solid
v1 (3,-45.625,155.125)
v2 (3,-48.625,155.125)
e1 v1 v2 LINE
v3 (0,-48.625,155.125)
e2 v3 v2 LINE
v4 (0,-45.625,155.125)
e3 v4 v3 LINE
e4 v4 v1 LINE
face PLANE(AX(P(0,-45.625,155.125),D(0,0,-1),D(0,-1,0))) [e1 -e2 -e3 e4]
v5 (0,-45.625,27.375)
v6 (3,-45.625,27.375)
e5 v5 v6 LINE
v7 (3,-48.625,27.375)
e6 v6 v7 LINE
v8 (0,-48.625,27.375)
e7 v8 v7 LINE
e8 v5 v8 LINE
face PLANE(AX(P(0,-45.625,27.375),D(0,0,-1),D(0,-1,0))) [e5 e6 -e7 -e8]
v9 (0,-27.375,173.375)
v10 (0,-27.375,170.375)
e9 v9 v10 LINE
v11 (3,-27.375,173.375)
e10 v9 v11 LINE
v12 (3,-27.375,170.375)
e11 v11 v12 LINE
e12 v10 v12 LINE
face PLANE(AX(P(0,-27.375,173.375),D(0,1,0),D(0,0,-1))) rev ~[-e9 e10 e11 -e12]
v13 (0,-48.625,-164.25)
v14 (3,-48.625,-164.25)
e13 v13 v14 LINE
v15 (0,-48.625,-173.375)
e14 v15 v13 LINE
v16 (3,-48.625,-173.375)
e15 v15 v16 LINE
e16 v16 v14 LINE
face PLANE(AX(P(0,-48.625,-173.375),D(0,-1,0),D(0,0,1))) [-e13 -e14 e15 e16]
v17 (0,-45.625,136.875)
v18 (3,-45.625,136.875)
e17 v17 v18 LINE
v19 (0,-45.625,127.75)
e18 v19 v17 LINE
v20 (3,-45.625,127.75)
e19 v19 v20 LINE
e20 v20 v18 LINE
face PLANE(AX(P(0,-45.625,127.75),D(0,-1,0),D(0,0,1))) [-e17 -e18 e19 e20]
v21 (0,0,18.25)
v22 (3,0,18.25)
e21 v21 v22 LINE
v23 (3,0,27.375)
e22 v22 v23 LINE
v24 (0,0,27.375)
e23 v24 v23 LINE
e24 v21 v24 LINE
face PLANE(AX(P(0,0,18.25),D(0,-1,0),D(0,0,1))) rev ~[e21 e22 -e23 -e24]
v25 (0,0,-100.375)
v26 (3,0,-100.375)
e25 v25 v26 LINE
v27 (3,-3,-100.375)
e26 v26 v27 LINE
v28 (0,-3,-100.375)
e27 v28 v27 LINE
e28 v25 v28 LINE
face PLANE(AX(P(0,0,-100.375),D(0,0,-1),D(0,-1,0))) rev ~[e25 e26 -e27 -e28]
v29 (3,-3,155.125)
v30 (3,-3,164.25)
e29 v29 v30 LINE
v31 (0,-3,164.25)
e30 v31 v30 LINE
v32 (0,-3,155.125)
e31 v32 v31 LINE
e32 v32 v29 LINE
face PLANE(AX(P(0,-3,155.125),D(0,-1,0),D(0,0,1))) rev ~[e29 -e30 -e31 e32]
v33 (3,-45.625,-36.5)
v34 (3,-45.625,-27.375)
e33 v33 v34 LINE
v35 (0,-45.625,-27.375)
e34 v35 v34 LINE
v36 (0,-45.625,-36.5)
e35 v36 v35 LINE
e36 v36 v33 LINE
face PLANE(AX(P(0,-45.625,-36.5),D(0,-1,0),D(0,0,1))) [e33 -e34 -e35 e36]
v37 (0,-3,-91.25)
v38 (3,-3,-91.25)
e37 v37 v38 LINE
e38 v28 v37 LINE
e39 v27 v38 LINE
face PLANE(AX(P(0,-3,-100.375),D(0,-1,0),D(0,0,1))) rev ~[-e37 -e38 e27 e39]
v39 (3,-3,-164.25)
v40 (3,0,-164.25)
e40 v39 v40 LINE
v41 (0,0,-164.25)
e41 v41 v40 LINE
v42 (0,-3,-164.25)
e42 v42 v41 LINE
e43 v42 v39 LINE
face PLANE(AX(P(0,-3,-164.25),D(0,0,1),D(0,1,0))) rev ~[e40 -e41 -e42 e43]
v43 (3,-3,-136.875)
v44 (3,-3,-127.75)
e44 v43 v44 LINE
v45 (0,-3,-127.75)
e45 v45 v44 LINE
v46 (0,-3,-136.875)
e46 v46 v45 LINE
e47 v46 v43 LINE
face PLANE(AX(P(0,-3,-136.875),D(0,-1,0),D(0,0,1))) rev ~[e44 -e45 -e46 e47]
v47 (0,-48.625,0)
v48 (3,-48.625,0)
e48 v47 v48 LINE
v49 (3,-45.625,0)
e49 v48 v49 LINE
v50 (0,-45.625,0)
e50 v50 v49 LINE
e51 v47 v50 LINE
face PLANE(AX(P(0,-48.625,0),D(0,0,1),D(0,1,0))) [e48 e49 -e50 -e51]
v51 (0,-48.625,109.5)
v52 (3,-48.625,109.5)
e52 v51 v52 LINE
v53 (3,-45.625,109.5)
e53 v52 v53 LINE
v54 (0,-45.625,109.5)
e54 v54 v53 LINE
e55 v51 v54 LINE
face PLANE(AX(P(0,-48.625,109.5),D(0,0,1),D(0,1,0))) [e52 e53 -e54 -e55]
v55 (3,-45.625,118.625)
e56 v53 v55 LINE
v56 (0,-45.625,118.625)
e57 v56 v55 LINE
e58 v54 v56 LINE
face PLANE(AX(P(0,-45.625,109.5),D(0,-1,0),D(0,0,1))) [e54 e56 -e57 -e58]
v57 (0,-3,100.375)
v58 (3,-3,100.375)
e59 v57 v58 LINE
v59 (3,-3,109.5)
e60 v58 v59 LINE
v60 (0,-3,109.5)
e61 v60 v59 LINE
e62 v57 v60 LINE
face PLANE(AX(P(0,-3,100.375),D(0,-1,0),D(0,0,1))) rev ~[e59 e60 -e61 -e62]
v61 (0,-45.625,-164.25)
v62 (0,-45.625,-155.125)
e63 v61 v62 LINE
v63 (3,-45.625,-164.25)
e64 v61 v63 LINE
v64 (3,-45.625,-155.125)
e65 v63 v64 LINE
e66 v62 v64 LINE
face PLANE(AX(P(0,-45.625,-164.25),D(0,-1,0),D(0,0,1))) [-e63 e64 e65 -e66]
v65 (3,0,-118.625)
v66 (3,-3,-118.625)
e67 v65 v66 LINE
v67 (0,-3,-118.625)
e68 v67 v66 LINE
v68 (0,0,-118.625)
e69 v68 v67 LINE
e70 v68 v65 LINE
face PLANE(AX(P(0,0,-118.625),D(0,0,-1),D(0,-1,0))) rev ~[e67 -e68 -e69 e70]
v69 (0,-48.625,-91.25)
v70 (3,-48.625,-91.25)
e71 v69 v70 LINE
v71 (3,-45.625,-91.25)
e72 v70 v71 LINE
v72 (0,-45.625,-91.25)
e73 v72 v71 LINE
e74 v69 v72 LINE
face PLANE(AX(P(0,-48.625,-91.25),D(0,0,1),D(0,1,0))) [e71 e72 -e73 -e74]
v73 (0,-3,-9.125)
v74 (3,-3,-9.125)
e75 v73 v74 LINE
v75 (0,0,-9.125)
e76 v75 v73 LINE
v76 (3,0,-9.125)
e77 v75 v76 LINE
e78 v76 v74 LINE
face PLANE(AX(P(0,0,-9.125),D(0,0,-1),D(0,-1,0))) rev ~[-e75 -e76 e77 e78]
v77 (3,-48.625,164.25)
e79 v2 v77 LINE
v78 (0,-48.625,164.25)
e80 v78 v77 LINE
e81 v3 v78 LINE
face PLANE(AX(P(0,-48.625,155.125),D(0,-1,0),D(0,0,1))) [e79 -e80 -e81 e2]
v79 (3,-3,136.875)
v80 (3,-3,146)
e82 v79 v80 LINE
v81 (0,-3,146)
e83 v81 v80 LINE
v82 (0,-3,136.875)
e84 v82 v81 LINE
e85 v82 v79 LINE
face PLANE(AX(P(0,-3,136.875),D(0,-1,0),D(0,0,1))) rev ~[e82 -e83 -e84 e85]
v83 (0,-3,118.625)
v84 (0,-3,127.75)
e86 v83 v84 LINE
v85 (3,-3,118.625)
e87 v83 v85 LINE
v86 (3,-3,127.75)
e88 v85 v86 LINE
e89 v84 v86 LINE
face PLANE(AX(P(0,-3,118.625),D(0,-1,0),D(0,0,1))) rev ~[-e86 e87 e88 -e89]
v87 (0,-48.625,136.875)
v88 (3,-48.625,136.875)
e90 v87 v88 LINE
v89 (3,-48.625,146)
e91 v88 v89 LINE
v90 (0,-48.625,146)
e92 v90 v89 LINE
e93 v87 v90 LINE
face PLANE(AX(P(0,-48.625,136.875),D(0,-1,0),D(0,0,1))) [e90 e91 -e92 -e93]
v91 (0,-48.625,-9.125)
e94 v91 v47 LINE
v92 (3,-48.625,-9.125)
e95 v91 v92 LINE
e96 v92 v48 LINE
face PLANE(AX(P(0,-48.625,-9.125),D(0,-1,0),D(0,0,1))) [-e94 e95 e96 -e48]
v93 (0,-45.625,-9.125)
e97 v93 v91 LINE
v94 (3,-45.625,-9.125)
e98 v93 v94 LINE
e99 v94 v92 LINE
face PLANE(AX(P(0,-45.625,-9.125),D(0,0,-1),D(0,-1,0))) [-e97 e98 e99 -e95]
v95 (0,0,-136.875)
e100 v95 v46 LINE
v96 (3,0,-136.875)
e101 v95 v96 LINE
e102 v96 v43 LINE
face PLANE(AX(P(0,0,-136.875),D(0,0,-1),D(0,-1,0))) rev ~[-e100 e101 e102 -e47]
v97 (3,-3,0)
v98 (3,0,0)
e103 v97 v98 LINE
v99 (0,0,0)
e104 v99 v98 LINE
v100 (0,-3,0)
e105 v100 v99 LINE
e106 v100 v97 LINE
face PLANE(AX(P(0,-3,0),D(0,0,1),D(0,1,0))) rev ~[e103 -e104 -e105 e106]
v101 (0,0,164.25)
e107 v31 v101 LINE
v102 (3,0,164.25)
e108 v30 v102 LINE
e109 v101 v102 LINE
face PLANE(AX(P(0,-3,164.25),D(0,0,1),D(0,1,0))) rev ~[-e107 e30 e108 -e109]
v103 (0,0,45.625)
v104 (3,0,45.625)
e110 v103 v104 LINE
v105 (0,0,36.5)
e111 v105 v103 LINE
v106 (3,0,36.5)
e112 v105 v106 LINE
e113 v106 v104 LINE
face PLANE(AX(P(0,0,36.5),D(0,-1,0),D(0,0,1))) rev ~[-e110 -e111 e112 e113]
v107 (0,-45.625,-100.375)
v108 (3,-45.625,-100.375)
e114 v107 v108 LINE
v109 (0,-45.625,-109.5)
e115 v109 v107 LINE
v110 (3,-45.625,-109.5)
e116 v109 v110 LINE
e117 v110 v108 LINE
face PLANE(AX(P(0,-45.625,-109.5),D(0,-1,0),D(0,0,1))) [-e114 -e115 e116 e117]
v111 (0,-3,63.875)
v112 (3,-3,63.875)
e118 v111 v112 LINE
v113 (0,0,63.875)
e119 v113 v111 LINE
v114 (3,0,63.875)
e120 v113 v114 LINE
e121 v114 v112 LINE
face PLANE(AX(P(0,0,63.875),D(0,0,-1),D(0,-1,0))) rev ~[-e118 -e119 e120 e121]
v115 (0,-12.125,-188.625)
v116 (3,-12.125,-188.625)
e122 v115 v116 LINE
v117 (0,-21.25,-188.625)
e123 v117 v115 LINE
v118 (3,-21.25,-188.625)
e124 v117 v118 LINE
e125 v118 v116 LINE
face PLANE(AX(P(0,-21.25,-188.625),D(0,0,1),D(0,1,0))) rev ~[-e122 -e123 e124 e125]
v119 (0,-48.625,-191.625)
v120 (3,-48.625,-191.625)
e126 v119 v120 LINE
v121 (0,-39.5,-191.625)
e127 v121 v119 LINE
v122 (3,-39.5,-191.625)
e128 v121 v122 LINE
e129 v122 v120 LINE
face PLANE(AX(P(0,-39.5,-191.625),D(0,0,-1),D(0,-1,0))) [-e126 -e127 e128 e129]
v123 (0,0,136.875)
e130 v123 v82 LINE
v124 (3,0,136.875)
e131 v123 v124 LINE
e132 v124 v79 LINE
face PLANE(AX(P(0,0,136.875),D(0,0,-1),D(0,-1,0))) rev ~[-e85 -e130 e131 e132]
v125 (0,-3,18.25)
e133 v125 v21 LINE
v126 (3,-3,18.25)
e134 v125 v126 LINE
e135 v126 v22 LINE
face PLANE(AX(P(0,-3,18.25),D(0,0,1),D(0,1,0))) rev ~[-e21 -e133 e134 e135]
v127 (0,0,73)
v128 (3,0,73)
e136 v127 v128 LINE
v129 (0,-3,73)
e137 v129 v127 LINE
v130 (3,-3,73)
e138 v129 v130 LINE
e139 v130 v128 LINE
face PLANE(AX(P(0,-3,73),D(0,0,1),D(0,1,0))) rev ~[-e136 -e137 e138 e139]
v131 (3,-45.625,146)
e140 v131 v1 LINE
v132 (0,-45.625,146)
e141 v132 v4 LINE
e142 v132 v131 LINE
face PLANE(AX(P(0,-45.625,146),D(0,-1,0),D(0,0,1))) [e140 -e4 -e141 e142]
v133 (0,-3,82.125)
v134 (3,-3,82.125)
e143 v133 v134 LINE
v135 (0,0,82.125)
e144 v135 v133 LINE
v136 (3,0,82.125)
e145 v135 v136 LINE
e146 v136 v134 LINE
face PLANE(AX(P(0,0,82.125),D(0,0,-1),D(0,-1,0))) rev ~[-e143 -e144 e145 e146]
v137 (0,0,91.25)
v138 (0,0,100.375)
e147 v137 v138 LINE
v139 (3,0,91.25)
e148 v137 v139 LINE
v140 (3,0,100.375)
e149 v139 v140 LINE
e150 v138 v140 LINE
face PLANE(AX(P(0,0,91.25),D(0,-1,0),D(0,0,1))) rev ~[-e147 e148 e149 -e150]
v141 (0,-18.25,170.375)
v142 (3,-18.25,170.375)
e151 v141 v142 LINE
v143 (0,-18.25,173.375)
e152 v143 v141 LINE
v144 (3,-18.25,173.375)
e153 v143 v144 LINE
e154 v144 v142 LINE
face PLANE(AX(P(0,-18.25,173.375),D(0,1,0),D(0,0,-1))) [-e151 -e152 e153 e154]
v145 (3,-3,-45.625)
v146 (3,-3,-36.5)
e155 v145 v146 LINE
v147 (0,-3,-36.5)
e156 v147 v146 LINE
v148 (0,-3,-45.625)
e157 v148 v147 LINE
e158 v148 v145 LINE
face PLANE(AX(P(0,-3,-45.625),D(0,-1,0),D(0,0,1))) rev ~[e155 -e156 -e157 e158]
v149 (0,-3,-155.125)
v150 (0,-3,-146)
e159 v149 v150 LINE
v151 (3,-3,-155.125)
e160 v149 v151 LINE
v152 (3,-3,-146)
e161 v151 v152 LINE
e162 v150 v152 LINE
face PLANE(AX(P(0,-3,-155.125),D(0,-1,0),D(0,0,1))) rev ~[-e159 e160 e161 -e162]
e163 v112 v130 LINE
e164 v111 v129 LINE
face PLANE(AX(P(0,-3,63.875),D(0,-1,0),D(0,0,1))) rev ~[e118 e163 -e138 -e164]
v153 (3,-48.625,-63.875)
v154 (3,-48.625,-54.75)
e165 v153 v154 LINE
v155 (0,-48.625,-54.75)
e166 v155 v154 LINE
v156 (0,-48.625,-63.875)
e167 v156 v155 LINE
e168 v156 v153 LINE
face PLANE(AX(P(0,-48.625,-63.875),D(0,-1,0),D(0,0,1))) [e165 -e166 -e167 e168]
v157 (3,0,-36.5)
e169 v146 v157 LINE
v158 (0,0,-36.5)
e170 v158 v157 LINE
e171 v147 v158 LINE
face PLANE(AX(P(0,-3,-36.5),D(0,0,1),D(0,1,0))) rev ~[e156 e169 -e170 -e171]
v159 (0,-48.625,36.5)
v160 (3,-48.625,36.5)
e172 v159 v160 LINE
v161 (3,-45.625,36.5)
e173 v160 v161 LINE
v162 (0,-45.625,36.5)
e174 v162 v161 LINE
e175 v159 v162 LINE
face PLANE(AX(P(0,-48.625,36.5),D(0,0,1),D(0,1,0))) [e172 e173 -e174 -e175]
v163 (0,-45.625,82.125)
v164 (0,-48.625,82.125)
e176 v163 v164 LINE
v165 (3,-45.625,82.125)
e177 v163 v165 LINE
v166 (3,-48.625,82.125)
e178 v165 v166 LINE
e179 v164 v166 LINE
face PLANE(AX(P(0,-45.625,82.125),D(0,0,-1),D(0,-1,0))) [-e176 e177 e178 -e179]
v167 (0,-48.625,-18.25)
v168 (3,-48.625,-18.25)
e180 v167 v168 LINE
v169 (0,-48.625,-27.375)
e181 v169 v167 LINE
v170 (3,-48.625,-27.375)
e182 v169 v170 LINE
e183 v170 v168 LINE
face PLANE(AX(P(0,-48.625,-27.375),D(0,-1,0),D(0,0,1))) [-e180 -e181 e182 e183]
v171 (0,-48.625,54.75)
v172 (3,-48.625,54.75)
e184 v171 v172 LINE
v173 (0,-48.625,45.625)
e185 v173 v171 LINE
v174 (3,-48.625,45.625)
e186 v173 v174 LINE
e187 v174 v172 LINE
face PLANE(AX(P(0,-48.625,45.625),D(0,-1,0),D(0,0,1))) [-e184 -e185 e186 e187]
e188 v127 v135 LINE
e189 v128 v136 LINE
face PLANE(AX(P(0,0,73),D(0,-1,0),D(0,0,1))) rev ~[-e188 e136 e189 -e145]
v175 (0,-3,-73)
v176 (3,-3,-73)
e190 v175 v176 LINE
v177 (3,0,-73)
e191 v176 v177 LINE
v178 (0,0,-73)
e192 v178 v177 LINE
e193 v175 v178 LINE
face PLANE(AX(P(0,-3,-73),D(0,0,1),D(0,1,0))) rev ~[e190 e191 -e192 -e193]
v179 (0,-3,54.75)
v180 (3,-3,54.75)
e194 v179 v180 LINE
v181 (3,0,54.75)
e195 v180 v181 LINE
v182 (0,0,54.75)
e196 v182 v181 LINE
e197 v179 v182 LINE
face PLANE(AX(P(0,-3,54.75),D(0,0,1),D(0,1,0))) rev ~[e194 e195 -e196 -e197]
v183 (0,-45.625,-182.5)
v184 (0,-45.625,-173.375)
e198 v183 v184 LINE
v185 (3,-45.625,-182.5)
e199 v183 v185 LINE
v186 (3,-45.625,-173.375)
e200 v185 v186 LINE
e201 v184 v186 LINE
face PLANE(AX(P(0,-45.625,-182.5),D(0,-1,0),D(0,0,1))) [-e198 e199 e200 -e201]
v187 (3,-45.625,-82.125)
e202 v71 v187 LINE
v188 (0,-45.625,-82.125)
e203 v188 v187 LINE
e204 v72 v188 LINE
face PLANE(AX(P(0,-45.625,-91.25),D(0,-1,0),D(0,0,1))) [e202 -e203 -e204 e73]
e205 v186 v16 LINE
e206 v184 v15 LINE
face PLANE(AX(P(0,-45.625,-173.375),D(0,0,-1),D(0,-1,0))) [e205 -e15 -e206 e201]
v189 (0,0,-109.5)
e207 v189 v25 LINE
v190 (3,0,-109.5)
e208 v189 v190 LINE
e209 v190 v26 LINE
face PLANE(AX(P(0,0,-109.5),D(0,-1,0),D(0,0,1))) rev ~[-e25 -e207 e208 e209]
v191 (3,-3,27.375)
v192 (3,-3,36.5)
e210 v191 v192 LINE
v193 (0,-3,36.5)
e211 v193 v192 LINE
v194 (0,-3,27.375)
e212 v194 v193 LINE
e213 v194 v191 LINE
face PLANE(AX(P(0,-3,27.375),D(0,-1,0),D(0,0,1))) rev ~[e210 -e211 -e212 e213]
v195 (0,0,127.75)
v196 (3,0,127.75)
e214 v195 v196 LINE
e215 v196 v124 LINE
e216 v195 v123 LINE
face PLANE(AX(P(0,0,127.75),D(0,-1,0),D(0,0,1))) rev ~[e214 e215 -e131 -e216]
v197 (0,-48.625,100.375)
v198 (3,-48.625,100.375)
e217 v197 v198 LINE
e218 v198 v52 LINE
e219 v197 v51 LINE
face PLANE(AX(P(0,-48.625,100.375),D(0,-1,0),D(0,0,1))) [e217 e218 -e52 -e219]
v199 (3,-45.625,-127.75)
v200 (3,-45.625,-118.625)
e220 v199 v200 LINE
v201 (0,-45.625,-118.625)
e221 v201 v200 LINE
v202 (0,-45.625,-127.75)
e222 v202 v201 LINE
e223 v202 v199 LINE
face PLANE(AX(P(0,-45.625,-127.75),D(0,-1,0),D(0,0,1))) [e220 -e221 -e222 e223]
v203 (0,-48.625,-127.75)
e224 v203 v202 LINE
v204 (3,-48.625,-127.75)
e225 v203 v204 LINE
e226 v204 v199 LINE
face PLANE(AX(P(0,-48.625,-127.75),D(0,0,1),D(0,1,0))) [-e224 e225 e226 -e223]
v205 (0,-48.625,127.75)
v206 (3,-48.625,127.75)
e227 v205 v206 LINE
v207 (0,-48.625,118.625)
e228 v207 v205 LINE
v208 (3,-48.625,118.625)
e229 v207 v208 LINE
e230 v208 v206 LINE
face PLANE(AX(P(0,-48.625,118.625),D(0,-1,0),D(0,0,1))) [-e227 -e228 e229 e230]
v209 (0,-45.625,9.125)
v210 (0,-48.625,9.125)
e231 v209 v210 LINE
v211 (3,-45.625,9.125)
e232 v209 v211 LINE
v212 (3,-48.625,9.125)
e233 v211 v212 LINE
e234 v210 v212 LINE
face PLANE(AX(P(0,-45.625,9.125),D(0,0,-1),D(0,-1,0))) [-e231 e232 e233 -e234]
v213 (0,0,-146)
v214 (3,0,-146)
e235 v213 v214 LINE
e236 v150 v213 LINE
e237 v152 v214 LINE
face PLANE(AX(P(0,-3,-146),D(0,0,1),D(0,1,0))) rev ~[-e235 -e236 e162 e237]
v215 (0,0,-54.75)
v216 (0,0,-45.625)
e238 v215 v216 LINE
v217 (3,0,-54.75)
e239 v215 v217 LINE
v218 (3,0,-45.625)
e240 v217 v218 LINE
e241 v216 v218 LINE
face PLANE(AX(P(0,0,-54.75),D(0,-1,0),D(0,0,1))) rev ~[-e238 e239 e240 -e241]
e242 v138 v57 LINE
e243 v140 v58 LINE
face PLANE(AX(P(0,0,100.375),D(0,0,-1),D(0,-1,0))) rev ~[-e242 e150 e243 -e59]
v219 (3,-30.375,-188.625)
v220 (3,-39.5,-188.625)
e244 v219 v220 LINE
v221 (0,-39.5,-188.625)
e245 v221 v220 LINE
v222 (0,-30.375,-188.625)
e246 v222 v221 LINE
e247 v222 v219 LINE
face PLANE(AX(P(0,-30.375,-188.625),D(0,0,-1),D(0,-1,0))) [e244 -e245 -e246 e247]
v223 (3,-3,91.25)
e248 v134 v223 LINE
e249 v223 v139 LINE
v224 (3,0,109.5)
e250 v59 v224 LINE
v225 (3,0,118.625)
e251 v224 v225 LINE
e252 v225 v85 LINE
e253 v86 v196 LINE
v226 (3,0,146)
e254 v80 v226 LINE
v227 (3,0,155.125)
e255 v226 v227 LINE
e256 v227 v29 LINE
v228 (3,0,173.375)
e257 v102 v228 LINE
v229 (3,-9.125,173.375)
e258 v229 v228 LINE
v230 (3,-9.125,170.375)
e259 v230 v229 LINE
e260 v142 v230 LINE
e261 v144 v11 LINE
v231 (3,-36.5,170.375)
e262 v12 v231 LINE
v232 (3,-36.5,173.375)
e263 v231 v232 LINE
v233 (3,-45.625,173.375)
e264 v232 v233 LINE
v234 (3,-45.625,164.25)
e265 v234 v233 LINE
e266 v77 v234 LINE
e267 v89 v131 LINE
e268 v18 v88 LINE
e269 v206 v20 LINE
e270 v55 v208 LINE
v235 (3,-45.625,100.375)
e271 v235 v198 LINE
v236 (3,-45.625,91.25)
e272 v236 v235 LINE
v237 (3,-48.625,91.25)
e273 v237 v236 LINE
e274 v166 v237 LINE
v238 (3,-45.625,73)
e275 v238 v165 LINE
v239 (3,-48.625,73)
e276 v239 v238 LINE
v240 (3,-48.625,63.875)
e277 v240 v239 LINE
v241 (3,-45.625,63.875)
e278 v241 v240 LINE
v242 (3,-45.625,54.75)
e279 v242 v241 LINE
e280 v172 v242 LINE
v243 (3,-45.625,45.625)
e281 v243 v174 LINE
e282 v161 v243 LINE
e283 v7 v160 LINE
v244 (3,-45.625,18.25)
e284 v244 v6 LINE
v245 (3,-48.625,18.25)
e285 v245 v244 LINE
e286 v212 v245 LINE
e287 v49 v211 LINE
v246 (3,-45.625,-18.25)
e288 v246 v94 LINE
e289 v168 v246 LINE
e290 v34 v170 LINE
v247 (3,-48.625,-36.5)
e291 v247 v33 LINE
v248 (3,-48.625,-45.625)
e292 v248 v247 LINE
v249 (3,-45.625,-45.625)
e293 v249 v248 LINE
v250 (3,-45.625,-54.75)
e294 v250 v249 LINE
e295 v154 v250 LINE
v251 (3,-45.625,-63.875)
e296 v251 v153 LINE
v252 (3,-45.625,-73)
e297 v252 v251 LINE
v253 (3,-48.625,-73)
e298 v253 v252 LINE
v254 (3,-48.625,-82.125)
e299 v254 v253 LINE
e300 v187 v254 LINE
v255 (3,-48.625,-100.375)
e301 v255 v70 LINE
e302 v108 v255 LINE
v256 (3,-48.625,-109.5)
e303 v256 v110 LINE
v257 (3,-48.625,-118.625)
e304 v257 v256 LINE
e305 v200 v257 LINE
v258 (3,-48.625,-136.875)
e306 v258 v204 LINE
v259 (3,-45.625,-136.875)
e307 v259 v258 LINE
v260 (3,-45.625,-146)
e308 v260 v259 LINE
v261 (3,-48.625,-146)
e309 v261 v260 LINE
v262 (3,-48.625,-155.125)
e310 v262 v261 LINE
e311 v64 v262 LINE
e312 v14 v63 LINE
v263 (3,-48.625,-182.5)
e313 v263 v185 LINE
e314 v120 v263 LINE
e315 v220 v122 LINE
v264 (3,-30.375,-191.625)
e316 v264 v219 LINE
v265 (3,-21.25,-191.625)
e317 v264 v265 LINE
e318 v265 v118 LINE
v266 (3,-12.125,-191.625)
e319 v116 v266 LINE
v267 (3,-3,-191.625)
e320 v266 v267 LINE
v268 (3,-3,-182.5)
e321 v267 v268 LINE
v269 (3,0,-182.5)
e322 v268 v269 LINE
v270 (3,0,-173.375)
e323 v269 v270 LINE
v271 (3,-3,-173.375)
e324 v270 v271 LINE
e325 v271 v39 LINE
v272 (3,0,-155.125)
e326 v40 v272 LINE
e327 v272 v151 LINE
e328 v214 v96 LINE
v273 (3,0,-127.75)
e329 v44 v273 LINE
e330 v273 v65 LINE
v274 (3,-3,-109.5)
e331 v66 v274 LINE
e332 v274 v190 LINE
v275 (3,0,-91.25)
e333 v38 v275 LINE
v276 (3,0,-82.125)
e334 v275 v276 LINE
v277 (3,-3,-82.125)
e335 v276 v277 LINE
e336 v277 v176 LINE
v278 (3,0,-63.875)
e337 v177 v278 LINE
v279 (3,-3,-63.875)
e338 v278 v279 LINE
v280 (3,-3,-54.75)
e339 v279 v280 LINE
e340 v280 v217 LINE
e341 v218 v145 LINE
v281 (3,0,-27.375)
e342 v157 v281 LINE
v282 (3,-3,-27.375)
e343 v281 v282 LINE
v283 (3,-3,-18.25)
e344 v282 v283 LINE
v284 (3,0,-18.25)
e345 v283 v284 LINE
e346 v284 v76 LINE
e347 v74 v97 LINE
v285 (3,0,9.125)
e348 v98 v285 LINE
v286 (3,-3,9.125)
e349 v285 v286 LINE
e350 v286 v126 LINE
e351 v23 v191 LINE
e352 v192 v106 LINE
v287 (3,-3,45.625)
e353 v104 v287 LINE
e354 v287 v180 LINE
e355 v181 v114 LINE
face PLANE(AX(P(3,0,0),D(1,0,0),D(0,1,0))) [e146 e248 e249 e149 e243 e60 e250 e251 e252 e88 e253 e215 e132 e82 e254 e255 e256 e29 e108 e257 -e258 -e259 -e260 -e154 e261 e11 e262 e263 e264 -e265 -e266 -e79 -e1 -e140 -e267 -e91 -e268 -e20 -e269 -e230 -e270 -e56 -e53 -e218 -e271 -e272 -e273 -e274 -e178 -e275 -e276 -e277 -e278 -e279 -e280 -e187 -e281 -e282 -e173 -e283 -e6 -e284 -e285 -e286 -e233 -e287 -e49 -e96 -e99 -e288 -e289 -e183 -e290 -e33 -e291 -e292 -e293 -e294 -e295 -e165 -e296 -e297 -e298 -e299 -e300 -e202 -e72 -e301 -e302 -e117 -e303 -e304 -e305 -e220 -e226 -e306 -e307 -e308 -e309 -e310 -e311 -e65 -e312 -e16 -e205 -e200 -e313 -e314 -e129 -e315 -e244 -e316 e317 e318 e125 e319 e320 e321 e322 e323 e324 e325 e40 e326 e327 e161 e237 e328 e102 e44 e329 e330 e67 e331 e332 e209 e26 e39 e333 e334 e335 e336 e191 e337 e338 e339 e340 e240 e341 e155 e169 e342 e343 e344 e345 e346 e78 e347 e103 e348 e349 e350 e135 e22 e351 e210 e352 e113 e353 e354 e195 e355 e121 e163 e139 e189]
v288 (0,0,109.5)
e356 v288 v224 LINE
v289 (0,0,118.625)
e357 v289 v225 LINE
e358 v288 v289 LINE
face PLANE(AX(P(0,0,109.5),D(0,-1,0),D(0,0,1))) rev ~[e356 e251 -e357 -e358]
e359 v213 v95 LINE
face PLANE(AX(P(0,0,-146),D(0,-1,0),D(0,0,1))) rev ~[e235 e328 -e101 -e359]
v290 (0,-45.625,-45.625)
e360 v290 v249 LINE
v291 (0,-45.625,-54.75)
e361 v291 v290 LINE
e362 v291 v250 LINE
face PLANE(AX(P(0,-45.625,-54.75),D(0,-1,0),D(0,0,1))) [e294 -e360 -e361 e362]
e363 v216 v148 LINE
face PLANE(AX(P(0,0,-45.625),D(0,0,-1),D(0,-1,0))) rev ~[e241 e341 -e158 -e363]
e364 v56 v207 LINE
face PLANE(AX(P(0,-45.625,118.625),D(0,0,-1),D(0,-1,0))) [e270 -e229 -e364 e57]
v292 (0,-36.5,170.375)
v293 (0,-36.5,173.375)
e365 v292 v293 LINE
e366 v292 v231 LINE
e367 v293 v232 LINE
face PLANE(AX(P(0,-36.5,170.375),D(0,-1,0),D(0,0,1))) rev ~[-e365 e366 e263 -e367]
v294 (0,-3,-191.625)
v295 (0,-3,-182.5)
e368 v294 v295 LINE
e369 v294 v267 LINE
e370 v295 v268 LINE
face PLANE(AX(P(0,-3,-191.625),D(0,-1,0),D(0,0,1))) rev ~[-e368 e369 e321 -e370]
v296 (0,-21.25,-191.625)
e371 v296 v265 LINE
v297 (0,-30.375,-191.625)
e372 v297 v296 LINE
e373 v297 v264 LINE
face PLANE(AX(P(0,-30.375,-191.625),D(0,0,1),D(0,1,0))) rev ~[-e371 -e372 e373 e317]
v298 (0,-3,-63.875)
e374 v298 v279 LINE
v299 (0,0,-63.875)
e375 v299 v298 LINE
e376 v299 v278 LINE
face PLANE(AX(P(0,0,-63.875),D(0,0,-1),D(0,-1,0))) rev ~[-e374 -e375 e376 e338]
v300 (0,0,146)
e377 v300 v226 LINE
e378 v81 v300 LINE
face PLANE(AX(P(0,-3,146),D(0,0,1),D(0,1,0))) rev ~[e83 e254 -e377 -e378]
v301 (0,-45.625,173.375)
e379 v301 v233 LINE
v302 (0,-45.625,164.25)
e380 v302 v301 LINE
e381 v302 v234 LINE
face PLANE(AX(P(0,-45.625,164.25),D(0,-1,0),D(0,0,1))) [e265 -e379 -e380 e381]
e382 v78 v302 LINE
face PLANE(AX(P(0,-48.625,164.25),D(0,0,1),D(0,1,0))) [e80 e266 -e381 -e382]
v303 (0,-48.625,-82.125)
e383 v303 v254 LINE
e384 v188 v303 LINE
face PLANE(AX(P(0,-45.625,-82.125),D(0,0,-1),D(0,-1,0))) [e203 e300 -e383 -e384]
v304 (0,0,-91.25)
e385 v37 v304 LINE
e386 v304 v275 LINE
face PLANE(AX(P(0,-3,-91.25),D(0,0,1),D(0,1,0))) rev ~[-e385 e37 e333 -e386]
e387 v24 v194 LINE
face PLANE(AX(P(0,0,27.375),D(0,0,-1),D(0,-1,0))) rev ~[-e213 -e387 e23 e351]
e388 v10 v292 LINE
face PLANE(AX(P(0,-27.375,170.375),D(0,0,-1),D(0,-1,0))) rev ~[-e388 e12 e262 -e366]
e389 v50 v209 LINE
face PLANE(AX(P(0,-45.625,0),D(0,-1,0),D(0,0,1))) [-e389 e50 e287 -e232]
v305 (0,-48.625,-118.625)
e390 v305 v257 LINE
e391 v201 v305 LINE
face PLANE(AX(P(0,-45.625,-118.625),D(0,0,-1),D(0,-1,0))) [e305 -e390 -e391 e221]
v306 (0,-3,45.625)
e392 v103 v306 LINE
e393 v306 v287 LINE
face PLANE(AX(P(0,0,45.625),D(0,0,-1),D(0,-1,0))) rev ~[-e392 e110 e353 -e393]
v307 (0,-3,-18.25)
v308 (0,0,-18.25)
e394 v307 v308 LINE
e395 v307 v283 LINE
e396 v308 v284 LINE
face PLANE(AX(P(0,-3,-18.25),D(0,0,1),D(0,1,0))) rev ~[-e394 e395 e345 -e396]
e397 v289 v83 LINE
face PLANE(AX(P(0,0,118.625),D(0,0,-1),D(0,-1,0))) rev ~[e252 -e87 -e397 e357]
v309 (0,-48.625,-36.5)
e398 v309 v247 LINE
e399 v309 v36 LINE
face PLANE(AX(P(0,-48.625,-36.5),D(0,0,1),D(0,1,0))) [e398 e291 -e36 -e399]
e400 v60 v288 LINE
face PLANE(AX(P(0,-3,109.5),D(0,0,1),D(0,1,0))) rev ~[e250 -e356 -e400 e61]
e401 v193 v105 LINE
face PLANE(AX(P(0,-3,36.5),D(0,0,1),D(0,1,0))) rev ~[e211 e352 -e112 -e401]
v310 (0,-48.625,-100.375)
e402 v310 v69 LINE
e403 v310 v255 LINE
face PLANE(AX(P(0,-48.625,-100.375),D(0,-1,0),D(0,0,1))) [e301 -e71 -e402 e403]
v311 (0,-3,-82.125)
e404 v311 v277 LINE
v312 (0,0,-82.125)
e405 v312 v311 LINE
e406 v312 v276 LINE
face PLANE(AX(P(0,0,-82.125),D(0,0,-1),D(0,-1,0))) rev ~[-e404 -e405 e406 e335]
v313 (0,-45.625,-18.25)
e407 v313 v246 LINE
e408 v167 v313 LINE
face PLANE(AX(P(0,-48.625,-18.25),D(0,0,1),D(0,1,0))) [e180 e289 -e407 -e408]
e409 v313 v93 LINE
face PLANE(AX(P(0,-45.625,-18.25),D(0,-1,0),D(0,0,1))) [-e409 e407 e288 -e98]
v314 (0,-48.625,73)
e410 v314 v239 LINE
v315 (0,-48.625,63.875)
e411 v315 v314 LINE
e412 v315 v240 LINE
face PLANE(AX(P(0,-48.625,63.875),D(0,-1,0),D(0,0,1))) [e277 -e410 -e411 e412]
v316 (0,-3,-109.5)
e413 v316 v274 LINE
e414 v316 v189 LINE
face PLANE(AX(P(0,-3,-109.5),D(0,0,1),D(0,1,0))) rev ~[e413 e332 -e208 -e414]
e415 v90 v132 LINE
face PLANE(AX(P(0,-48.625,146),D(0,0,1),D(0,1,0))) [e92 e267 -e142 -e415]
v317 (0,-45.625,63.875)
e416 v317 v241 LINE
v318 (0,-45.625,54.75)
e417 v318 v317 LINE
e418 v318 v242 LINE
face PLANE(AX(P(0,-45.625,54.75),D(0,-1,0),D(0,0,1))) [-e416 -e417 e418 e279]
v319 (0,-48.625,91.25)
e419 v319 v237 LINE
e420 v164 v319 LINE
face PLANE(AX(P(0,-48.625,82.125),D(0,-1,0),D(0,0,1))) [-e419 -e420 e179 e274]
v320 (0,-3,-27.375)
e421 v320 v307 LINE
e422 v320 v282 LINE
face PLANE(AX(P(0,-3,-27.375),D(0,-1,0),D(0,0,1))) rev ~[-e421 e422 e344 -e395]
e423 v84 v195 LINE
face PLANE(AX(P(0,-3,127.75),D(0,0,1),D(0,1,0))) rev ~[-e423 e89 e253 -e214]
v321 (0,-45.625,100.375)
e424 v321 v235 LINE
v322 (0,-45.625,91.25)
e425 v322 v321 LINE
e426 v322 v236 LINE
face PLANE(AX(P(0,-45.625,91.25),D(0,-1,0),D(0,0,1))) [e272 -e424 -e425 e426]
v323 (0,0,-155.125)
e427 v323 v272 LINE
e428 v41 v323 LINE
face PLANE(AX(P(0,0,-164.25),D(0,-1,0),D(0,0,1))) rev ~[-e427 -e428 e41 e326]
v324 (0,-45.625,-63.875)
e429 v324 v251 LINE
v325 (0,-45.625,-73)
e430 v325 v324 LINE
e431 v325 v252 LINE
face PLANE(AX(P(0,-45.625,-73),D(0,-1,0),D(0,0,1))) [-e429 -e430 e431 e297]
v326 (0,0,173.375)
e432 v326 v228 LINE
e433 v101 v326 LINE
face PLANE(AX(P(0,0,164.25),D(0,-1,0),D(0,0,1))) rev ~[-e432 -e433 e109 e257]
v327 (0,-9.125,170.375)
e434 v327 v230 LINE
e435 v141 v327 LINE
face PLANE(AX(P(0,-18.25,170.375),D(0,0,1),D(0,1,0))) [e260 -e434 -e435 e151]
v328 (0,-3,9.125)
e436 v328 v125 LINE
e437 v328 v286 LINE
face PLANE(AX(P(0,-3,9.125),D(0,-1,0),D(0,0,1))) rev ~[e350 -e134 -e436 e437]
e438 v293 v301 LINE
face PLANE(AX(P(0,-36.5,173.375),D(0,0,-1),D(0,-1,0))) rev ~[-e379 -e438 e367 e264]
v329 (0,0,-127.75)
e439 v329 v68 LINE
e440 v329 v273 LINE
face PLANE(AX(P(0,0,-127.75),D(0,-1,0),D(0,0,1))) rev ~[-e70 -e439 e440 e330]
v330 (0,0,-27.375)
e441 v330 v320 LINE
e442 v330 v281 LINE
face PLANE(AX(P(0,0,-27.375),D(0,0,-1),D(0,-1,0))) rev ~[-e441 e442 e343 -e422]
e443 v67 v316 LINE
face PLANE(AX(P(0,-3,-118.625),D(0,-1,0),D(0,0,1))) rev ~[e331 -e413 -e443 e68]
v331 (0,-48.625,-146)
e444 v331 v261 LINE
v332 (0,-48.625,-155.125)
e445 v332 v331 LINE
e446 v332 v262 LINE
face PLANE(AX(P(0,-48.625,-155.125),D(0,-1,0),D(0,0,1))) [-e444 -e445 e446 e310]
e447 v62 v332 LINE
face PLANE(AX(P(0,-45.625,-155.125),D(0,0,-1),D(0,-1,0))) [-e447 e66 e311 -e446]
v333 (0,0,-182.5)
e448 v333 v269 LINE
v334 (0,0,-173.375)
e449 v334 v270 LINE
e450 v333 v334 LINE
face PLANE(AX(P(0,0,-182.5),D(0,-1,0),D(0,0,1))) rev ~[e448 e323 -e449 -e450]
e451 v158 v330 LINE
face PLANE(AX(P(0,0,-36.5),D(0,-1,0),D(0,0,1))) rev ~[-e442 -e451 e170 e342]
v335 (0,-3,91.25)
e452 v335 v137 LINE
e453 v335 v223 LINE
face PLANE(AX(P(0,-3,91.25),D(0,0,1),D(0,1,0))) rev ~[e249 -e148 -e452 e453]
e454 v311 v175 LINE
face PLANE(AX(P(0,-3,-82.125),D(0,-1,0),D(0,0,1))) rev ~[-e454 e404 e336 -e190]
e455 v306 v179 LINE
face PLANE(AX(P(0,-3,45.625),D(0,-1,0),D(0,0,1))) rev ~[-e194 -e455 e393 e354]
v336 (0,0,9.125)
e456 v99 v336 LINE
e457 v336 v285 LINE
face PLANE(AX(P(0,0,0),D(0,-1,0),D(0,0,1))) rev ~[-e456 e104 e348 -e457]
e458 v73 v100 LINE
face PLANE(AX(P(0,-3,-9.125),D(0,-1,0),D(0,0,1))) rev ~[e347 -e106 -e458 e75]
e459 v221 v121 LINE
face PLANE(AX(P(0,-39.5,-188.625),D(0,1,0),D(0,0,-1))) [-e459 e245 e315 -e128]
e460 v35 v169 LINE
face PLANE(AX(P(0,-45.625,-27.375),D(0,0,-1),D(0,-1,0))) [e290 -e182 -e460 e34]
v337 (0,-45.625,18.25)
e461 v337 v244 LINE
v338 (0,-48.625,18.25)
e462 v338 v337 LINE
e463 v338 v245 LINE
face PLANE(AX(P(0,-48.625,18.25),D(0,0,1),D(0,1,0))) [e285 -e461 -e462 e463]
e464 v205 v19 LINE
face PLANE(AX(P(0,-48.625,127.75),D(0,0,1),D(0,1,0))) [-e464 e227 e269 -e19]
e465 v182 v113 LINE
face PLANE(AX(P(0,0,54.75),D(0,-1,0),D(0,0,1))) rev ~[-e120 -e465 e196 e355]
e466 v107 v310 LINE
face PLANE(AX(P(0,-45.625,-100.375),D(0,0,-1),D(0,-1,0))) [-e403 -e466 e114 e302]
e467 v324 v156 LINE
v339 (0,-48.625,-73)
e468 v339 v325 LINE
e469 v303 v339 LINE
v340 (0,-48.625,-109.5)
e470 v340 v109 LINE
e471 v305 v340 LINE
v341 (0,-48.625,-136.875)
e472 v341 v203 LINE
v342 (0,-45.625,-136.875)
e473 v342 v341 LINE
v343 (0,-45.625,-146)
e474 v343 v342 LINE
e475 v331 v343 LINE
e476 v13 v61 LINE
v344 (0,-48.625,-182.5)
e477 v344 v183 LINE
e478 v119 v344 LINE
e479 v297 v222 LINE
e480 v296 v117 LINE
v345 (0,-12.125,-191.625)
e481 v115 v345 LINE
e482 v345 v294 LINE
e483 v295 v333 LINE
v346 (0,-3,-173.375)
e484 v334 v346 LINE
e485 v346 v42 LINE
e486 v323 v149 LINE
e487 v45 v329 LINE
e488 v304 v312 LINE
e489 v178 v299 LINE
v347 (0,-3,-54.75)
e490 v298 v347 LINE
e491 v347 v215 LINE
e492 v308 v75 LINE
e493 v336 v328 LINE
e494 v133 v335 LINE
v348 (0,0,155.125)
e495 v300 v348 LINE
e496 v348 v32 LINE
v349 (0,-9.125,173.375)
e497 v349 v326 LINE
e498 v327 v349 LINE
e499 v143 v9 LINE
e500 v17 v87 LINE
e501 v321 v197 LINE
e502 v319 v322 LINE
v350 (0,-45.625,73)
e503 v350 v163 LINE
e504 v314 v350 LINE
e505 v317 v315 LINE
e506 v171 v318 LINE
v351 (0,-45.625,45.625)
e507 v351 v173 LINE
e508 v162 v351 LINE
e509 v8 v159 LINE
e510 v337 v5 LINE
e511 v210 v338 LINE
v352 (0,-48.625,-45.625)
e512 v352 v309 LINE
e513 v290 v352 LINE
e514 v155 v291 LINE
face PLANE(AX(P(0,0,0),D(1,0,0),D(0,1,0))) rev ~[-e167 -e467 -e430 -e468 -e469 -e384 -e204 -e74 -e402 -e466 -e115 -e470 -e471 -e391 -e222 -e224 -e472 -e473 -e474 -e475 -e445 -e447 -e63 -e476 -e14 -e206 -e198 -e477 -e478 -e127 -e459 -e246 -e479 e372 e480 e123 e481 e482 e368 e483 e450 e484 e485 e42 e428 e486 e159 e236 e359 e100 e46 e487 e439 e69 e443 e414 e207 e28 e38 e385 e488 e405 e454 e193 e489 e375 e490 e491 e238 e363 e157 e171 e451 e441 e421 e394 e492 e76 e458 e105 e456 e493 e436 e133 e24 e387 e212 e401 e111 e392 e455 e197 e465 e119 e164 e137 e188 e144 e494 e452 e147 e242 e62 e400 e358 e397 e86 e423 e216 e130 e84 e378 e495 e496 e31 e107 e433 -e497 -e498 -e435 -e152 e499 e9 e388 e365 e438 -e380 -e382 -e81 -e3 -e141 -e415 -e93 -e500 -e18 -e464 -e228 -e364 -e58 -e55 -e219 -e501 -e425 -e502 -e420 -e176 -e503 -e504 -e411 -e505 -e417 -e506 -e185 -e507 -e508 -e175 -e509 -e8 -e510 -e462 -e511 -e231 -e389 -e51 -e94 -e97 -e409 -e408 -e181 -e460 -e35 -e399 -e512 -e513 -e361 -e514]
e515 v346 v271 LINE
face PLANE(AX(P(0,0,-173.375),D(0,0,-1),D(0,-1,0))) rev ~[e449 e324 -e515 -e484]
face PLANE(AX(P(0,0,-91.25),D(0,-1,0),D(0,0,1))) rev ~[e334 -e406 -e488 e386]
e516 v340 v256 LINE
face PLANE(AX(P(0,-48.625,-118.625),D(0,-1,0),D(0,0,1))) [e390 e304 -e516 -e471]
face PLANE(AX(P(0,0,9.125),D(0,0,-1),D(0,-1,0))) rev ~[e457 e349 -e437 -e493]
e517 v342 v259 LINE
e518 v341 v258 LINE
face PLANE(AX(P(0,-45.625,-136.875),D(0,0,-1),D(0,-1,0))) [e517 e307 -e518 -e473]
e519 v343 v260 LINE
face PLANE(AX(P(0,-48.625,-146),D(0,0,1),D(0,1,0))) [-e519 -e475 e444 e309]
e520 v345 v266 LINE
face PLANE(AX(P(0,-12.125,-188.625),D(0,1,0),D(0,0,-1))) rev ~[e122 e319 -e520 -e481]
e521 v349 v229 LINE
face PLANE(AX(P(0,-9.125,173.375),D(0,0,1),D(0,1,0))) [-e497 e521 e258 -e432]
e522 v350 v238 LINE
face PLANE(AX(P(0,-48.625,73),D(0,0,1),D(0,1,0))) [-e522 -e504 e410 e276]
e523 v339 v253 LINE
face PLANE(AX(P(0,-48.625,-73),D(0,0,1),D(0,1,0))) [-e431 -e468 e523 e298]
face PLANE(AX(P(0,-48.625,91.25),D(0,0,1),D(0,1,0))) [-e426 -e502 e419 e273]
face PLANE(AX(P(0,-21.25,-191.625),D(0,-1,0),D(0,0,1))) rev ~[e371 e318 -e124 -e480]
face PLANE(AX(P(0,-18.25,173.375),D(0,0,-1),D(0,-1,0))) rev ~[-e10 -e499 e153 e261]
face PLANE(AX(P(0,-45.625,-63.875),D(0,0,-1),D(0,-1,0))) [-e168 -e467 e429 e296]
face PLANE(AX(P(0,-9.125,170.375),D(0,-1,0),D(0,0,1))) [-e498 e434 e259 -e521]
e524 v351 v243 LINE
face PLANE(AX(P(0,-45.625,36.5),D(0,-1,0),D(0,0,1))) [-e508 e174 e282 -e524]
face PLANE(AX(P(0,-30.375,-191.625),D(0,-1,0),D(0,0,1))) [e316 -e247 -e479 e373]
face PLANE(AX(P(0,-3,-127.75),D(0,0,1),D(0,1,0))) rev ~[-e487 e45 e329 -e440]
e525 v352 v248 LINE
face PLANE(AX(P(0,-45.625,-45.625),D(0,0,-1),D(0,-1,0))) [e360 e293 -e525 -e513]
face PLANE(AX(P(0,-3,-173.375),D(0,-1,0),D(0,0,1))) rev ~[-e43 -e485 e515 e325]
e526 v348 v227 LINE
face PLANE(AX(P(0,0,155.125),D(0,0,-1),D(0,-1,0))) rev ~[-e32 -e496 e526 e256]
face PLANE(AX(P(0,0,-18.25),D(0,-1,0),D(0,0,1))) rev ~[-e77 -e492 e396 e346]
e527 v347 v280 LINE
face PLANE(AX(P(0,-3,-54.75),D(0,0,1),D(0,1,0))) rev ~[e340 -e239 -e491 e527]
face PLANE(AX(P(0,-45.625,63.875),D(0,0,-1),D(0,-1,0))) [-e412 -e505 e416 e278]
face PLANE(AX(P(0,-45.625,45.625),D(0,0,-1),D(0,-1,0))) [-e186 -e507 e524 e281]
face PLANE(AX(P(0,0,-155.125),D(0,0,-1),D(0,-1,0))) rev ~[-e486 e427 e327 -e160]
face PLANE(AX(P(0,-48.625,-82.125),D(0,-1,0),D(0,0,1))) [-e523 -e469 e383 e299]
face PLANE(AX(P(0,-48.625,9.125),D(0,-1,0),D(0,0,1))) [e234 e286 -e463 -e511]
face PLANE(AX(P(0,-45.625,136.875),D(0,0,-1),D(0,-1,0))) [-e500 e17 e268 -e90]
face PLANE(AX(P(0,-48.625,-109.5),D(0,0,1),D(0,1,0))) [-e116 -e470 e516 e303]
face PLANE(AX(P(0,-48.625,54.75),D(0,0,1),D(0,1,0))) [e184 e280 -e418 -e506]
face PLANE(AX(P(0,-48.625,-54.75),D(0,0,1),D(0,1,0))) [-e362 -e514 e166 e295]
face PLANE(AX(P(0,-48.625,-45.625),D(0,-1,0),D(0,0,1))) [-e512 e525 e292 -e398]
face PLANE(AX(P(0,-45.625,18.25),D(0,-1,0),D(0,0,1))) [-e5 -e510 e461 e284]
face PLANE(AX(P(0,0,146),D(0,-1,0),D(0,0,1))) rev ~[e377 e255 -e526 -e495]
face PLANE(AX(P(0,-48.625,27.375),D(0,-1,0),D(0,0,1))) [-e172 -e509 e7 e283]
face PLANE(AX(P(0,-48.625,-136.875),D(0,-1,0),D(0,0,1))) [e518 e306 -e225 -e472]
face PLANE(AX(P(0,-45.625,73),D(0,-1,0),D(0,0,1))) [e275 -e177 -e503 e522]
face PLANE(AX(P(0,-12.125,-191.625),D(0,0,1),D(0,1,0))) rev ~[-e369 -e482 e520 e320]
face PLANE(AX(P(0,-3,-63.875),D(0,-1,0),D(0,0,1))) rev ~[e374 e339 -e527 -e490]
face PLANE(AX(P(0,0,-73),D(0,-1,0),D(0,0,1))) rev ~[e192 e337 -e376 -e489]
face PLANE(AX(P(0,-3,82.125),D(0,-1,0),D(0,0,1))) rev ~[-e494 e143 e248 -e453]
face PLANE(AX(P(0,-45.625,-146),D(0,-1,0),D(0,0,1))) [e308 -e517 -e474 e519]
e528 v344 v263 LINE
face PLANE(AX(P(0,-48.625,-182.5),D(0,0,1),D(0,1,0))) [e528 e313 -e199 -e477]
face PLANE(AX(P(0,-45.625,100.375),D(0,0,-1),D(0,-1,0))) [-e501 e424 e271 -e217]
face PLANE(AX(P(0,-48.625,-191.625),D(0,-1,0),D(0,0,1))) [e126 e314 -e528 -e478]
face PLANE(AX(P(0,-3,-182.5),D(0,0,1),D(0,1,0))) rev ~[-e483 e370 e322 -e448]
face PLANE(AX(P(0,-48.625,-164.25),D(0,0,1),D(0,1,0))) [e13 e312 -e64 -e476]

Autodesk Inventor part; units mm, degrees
ref_plane "YZ Plane" through (0, 0, 0) normal (1, 0, 0) x (0, 1, 0)
ref_plane "XZ Plane" through (0, 0, 0) normal (0, 1, 0) x (-1, 0, 0)
ref_plane "XY Plane" through (0, 0, 0) normal (0, 0, 1) x (1, 0, 0)
sketch "Sketch2" plane through (0, 0, 0) normal (1, 0, 0) x (0, 1, 0)
  line L0 (-30.375, -191.625) -> (-30.375, -188.625)
  line L1 (-30.375, -188.625) -> (-39.5, -188.625)
  line L2 (-39.5, -188.625) -> (-39.5, -191.625)
  line L3 (-39.5, -191.625) -> (-48.625, -191.625)
  line L4 (-30.375, -191.625) -> (-21.25, -191.625)
  line L5 (-21.25, -191.625) -> (-21.25, -188.625)
  line L6 (-21.25, -188.625) -> (-12.125, -188.625)
  line L7 (-48.625, -191.625) -> (-48.625, -182.5)
  line L8 (-48.625, -182.5) -> (-45.625, -182.5)
  line L9 (-45.625, -182.5) -> (-45.625, -173.375)
  line L10 (-45.625, -173.375) -> (-48.625, -173.375)
  line L11 (-48.625, -173.375) -> (-48.625, -164.25)
  line L12 (-48.625, -164.25) -> (-45.625, -164.25)
  line L13 (-45.625, -164.25) -> (-45.625, -155.125)
  line L14 (-45.625, -155.125) -> (-48.625, -155.125)
  line L15 (-48.625, -155.125) -> (-48.625, -146)
  line L16 (-48.625, -146) -> (-45.625, -146)
  line L17 (-45.625, -146) -> (-45.625, -136.875)
  line L18 (-45.625, -136.875) -> (-48.625, -136.875)
  line L19 (-48.625, -136.875) -> (-48.625, -127.75)
  line L20 (-48.625, -127.75) -> (-45.625, -127.75)
  line L21 (-45.625, -127.75) -> (-45.625, -118.625)
  line L22 (-45.625, -118.625) -> (-48.625, -118.625)
  line L23 (-48.625, -118.625) -> (-48.625, -109.5)
  line L24 (-48.625, -109.5) -> (-45.625, -109.5)
  line L25 (-45.625, -109.5) -> (-45.625, -100.375)
  line L26 (-45.625, -100.375) -> (-48.625, -100.375)
  line L27 (-48.625, -100.375) -> (-48.625, -91.25)
  line L28 (-48.625, -91.25) -> (-45.625, -91.25)
  line L29 (-45.625, -91.25) -> (-45.625, -82.125)
  line L30 (-45.625, -82.125) -> (-48.625, -82.125)
  line L31 (-48.625, -82.125) -> (-48.625, -73)
  line L32 (-48.625, -73) -> (-45.625, -73)
  line L33 (-45.625, -73) -> (-45.625, -63.875)
  line L34 (-45.625, -63.875) -> (-48.625, -63.875)
  line L35 (-48.625, -63.875) -> (-48.625, -54.75)
  line L36 (-48.625, -54.75) -> (-45.625, -54.75)
  line L37 (-45.625, -54.75) -> (-45.625, -45.625)
  line L38 (-45.625, -45.625) -> (-48.625, -45.625)
  line L39 (-48.625, -45.625) -> (-48.625, -36.5)
  line L40 (-48.625, -36.5) -> (-45.625, -36.5)
  line L41 (-45.625, -36.5) -> (-45.625, -27.375)
  line L42 (-45.625, -27.375) -> (-48.625, -27.375)
  line L43 (-48.625, -27.375) -> (-48.625, -18.25)
  line L44 (-48.625, -18.25) -> (-45.625, -18.25)
  line L45 (-45.625, -18.25) -> (-45.625, -9.125)
  line L46 (-45.625, -9.125) -> (-48.625, -9.125)
  line L47 (-48.625, -9.125) -> (-48.625, 0)
  line L48 (-48.625, 0) -> (-45.625, 0)
  line L49 (-45.625, 0) -> (-45.625, 9.125)
  line L50 (-45.625, 9.125) -> (-48.625, 9.125)
  line L51 (-48.625, 9.125) -> (-48.625, 18.25)
  line L52 (-48.625, 18.25) -> (-45.625, 18.25)
  line L53 (-45.625, 18.25) -> (-45.625, 27.375)
  line L54 (-45.625, 27.375) -> (-48.625, 27.375)
  line L55 (-48.625, 27.375) -> (-48.625, 36.5)
  line L56 (-48.625, 36.5) -> (-45.625, 36.5)
  line L57 (-45.625, 36.5) -> (-45.625, 45.625)
  line L58 (-45.625, 45.625) -> (-48.625, 45.625)
  line L59 (-48.625, 45.625) -> (-48.625, 54.75)
  line L60 (-48.625, 54.75) -> (-45.625, 54.75)
  line L61 (-45.625, 54.75) -> (-45.625, 63.875)
  line L62 (-45.625, 63.875) -> (-48.625, 63.875)
  line L63 (-48.625, 63.875) -> (-48.625, 73)
  line L64 (-48.625, 73) -> (-45.625, 73)
  line L65 (-45.625, 73) -> (-45.625, 82.125)
  line L66 (-45.625, 82.125) -> (-48.625, 82.125)
  line L67 (-48.625, 82.125) -> (-48.625, 91.25)
  line L68 (-48.625, 91.25) -> (-45.625, 91.25)
  line L69 (-45.625, 91.25) -> (-45.625, 100.375)
  line L70 (-45.625, 100.375) -> (-48.625, 100.375)
  line L71 (-48.625, 100.375) -> (-48.625, 109.5)
  line L72 (-48.625, 109.5) -> (-45.625, 109.5)
  line L73 (-45.625, 109.5) -> (-45.625, 118.625)
  line L74 (-45.625, 118.625) -> (-48.625, 118.625)
  line L75 (-48.625, 118.625) -> (-48.625, 127.75)
  line L76 (-48.625, 127.75) -> (-45.625, 127.75)
  line L77 (-45.625, 127.75) -> (-45.625, 136.875)
  line L78 (-45.625, 136.875) -> (-48.625, 136.875)
  line L79 (-48.625, 136.875) -> (-48.625, 146)
  line L80 (-48.625, 146) -> (-45.625, 146)
  line L81 (-45.625, 146) -> (-45.625, 155.125)
  line L82 (-45.625, 155.125) -> (-48.625, 155.125)
  line L83 (-48.625, 155.125) -> (-48.625, 164.25)
  line L84 (-48.625, 164.25) -> (-45.625, 164.25)
  line L85 (-45.625, 164.25) -> (-45.625, 173.375)
  line L86 (-12.125, -188.625) -> (-12.125, -191.625)
  line L87 (-12.125, -191.625) -> (-3, -191.625)
  line L88 (-3, -191.625) -> (-3, -182.5)
  line L89 (-3, -182.5) -> (0, -182.5)
  line L90 (0, -182.5) -> (0, -173.375)
  line L91 (0, -173.375) -> (-3, -173.375)
  line L92 (-3, -173.375) -> (-3, -164.25)
  line L93 (-3, -164.25) -> (0, -164.25)
  line L94 (0, -164.25) -> (0, -155.125)
  line L95 (0, -155.125) -> (-3, -155.125)
  line L96 (-3, -155.125) -> (-3, -146)
  line L97 (-3, -146) -> (0, -146)
  line L98 (0, -146) -> (0, -136.875)
  line L99 (0, -136.875) -> (-3, -136.875)
  line L100 (-3, -136.875) -> (-3, -127.75)
  line L101 (-3, -127.75) -> (0, -127.75)
  line L102 (0, -127.75) -> (0, -118.625)
  line L103 (0, -118.625) -> (-3, -118.625)
  line L104 (-3, -118.625) -> (-3, -109.5)
  line L105 (-3, -109.5) -> (0, -109.5)
  line L106 (0, -109.5) -> (0, -100.375)
  line L107 (0, -100.375) -> (-3, -100.375)
  line L108 (-3, -100.375) -> (-3, -91.25)
  line L109 (-3, -91.25) -> (0, -91.25)
  line L110 (0, -91.25) -> (0, -82.125)
  line L111 (0, -82.125) -> (-3, -82.125)
  line L112 (-3, -82.125) -> (-3, -73)
  line L113 (-3, -73) -> (0, -73)
  line L114 (0, -73) -> (0, -63.875)
  line L115 (0, -63.875) -> (-3, -63.875)
  line L116 (-3, -63.875) -> (-3, -54.75)
  line L117 (-3, -54.75) -> (0, -54.75)
  line L118 (0, -54.75) -> (0, -45.625)
  line L119 (0, -45.625) -> (-3, -45.625)
  line L120 (-3, -45.625) -> (-3, -36.5)
  line L121 (-3, -36.5) -> (0, -36.5)
  line L122 (0, -36.5) -> (0, -27.375)
  line L123 (0, -27.375) -> (-3, -27.375)
  line L124 (-3, -27.375) -> (-3, -18.25)
  line L125 (-3, -18.25) -> (0, -18.25)
  line L126 (0, -18.25) -> (0, -9.125)
  line L127 (0, -9.125) -> (-3, -9.125)
  line L128 (-3, -9.125) -> (-3, 0)
  line L129 (-3, 0) -> (0, 0)
  line L130 (0, 0) -> (0, 9.125)
  line L131 (0, 9.125) -> (-3, 9.125)
  line L132 (-3, 9.125) -> (-3, 18.25)
  line L133 (-3, 18.25) -> (0, 18.25)
  line L134 (0, 18.25) -> (0, 27.375)
  line L135 (0, 27.375) -> (-3, 27.375)
  line L136 (-3, 27.375) -> (-3, 36.5)
  line L137 (-3, 36.5) -> (0, 36.5)
  line L138 (0, 36.5) -> (0, 45.625)
  line L139 (0, 45.625) -> (-3, 45.625)
  line L140 (-3, 45.625) -> (-3, 54.75)
  line L141 (-3, 54.75) -> (0, 54.75)
  line L142 (0, 54.75) -> (0, 63.875)
  line L143 (0, 63.875) -> (-3, 63.875)
  line L144 (-3, 63.875) -> (-3, 73)
  line L145 (-3, 73) -> (0, 73)
  line L146 (0, 73) -> (0, 82.125)
  line L147 (0, 82.125) -> (-3, 82.125)
  line L148 (-3, 82.125) -> (-3, 91.25)
  line L149 (-3, 91.25) -> (0, 91.25)
  line L150 (0, 91.25) -> (0, 100.375)
  line L151 (0, 100.375) -> (-3, 100.375)
  line L152 (-3, 100.375) -> (-3, 109.5)
  line L153 (-3, 109.5) -> (0, 109.5)
  line L154 (0, 109.5) -> (0, 118.625)
  line L155 (0, 118.625) -> (-3, 118.625)
  line L156 (-3, 118.625) -> (-3, 127.75)
  line L157 (-3, 127.75) -> (0, 127.75)
  line L158 (0, 127.75) -> (0, 136.875)
  line L159 (0, 136.875) -> (-3, 136.875)
  line L160 (-3, 136.875) -> (-3, 146)
  line L161 (-3, 146) -> (0, 146)
  line L162 (0, 146) -> (0, 155.125)
  line L163 (0, 155.125) -> (-3, 155.125)
  line L164 (-3, 155.125) -> (-3, 164.25)
  line L165 (-3, 164.25) -> (0, 164.25)
  line L166 (0, 164.25) -> (0, 173.375)
  line L167 (-18.25, 173.375) -> (-18.25, 170.375)
  line L168 (-18.25, 170.375) -> (-9.125, 170.375)
  line L169 (-9.125, 170.375) -> (-9.125, 173.375)
  line L170 (-9.125, 173.375) -> (0, 173.375)
  line L171 (-18.25, 173.375) -> (-27.375, 173.375)
  line L172 (-27.375, 173.375) -> (-27.375, 170.375)
  line L173 (-27.375, 170.375) -> (-36.5, 170.375)
  line L174 (-36.5, 170.375) -> (-36.5, 173.375)
  line L175 (-36.5, 173.375) -> (-45.625, 173.375)
  point P0 (-3, -173.375)
  point P1 (-3, -155.125)
  point P2 (-3, -136.875)
  point P3 (-3, -118.625)
  point P4 (-3, -100.375)
  point P5 (-3, -82.125)
  point P6 (-3, -63.875)
  point P7 (-3, -45.625)
  point P8 (-3, -27.375)
  point P9 (-3, -9.125)
  point P10 (-3, 9.125)
  point P11 (-3, 27.375)
  point P12 (-3, 45.625)
  point P13 (-3, 63.875)
  point P14 (-3, 82.125)
  point P15 (-3, 100.375)
  point P16 (-3, 118.625)
  point P17 (-3, 136.875)
  point P18 (0, 173.375)
  dimension "d1" = 3
  dimension "d4" = 3
  dimension "d6" = 18.25
  dimension "d9" = 18.25
  dimension "d15" = 9.125
  dimension "d22" = 3
  dimension "d23" = 18.25
  dimension "d24" = 18.25
  dimension "d26" = 3
  dimension "d27" = 9.125
extrude "Extrusion1" add sketch "Sketch2" along normal blind 3
properties part number "LeftBaseWall"
